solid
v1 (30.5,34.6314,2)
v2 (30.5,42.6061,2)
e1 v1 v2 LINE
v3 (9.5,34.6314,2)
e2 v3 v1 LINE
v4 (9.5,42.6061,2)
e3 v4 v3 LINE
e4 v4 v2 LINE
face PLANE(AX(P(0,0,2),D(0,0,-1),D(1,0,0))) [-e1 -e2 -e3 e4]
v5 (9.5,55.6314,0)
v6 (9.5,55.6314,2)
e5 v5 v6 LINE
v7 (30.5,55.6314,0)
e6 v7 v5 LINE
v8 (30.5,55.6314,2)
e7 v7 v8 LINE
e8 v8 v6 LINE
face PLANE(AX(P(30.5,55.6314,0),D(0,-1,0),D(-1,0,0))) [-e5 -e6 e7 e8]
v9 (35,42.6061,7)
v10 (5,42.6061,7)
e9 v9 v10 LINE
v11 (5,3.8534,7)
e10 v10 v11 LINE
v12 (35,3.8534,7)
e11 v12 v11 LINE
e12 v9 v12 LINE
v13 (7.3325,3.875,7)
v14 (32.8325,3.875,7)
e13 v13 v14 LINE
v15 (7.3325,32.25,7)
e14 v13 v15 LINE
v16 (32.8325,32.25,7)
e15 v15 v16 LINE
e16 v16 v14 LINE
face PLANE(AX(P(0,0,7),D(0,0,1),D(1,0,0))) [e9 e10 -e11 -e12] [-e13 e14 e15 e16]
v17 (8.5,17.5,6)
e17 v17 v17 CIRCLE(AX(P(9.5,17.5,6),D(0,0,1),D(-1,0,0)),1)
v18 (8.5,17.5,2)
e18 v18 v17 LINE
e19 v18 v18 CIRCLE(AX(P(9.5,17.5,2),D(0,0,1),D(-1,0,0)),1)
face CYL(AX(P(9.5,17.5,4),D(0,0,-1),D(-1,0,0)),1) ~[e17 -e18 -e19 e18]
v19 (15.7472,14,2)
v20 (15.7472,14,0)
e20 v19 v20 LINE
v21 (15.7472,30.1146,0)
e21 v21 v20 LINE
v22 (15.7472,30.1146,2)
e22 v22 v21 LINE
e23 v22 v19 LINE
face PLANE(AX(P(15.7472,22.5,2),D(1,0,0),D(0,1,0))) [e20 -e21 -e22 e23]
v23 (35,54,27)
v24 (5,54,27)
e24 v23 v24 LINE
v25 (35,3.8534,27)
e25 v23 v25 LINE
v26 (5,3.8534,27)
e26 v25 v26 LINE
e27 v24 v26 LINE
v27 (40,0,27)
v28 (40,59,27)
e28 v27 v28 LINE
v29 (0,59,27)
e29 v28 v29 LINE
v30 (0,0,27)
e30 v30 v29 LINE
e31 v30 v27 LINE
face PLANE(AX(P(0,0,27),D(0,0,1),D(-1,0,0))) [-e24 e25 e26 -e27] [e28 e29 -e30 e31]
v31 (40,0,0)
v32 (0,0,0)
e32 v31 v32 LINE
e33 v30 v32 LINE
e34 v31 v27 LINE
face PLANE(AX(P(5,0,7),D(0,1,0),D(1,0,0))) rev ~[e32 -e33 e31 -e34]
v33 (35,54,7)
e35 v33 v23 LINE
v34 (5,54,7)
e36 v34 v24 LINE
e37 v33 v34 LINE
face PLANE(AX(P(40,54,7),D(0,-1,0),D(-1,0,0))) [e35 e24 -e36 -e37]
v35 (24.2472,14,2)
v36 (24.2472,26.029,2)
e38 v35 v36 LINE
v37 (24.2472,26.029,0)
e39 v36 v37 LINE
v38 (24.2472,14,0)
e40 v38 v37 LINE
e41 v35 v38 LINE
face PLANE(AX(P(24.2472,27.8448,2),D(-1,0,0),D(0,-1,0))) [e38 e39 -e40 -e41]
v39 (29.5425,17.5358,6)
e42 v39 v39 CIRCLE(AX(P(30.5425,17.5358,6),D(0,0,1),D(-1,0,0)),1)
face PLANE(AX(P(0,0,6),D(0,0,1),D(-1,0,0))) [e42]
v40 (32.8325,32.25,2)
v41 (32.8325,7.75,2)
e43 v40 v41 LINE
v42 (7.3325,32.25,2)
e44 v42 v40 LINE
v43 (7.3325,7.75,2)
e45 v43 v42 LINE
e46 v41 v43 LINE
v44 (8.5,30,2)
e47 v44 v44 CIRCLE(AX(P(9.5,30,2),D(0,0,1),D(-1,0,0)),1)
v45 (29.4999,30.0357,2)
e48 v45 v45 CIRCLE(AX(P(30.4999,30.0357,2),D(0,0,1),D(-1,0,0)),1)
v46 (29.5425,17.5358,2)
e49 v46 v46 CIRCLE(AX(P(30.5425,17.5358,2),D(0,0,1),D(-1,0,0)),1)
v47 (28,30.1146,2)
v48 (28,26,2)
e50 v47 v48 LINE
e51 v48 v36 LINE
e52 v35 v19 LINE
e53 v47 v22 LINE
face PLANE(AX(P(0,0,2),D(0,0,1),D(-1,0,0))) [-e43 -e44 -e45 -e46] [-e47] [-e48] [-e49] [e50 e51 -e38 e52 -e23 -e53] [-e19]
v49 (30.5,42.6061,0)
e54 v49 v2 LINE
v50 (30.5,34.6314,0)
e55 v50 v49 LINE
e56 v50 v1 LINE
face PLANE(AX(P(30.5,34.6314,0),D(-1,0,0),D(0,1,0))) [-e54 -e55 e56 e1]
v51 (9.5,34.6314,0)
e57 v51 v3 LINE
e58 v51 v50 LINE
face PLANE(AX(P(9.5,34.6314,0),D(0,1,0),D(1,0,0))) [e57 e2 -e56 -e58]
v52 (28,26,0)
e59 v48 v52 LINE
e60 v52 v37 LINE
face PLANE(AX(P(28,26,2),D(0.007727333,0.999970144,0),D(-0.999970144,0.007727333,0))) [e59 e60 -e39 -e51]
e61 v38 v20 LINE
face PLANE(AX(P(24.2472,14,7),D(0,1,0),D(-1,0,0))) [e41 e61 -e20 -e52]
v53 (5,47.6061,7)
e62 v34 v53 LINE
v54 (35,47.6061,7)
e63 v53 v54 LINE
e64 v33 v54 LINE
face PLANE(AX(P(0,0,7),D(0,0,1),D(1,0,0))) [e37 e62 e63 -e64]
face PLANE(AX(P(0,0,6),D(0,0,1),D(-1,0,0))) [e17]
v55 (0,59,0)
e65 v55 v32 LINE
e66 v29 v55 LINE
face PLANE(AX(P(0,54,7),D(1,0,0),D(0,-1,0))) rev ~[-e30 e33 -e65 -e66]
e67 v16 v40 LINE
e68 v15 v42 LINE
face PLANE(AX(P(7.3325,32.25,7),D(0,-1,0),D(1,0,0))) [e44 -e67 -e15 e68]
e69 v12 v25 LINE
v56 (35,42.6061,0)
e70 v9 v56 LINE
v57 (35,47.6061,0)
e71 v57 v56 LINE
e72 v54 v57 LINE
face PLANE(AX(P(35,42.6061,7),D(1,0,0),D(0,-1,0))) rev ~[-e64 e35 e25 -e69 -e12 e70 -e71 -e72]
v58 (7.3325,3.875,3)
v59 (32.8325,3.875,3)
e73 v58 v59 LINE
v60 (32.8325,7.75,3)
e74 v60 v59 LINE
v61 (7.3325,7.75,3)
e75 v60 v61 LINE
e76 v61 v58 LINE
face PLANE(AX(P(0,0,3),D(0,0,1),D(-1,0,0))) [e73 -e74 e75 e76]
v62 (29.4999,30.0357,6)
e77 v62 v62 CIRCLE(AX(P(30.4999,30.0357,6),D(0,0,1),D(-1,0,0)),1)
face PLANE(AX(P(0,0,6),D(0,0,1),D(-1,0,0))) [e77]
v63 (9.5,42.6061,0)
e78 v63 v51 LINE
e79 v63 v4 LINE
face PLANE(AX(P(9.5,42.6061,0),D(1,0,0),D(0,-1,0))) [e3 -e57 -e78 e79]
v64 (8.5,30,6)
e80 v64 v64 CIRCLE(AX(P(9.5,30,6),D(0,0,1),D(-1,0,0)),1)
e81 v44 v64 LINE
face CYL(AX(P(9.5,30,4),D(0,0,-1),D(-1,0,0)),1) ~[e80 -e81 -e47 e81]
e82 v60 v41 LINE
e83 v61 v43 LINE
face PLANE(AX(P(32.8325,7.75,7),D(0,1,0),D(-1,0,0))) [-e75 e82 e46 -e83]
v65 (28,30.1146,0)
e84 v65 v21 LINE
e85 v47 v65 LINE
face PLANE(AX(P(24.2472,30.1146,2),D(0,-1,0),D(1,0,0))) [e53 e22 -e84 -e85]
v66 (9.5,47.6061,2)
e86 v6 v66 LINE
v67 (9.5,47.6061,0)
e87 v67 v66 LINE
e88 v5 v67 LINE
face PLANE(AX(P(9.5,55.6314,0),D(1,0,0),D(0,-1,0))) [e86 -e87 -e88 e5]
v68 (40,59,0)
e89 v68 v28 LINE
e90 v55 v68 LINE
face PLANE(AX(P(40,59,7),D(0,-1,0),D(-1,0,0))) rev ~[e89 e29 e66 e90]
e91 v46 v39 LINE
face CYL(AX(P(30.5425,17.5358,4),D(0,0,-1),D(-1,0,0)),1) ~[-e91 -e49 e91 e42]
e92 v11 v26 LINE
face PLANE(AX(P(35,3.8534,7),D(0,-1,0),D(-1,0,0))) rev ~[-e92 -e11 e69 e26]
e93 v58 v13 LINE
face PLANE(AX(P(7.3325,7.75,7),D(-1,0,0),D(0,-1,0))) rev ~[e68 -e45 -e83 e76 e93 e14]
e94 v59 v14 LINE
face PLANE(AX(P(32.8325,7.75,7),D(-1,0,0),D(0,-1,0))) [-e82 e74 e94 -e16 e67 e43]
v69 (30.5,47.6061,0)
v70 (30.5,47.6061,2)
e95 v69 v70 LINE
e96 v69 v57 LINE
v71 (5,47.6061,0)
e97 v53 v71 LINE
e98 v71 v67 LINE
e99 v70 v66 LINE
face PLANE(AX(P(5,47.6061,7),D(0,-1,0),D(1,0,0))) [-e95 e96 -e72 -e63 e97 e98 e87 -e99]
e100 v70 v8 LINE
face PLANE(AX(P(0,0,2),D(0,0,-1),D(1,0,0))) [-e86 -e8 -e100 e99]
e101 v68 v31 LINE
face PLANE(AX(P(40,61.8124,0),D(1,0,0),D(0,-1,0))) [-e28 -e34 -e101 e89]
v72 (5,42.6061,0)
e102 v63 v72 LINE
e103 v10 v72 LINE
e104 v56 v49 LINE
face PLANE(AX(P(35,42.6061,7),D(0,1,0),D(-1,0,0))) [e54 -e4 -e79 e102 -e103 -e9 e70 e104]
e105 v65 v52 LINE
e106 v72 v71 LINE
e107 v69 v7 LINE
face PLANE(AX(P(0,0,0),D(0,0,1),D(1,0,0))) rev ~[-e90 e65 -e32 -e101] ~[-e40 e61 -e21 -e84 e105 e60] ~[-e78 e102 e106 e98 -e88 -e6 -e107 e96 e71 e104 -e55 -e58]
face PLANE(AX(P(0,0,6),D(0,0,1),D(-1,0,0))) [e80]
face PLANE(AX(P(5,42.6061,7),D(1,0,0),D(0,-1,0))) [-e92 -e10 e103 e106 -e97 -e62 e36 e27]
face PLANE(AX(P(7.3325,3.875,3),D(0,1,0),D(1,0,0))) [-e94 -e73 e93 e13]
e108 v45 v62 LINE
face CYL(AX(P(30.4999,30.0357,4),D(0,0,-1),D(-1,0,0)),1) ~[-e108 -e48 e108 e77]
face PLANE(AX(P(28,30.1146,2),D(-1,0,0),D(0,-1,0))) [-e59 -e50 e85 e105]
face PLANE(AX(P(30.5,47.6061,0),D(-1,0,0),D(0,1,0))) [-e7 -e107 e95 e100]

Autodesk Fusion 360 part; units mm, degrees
sketch "Sketch1" plane through (0, 0, 0) normal (0, 0, 1) x (1, 0, 0)
  line L0 (0, 0) -> (0, 40)
  line L1 (0, 40) -> (40, 40)
  line L2 (40, 40) -> (40, 0)
  line L3 (40, 0) -> (0, 0)
extrude "Extrude1" add sketch "Sketch1" along normal blind 7
sketch "Sketch2" plane through (0, 0, 7) normal (0, 0, 1) x (-1, 0, 0)
  line L0 (-40, 0) -> (-40, -40)
  line L1 (-40, -40) -> (0, -40)
  line L2 (0, -40) -> (0, 0)
  line L3 (0, 0) -> (-40, 0)
  line L4 (-32.8325, -7.75) -> (-7.3325, -7.75)
  line L5 (-7.3325, -7.75) -> (-7.3325, -32.25)
  line L6 (-7.3325, -32.25) -> (-32.8325, -32.25)
  line L7 (-32.8325, -32.25) -> (-32.8325, -7.75)
  line L8 (-32.8325, -7.75) -> (-7.3325, -32.25) construction
  line L9 (-7.3325, -7.75) -> (-32.8325, -32.25) construction
  dimension "d3" = 24.5
  dimension "d4" = 25.5
extrude "Extrude2" cut sketch "Sketch2" against normal blind 5 contours L4 L5 L6 L7
sketch "Sketch3" plane through (0, 0, 7) normal (0, 0, 1) x (-1, 0, 0)
  line L0 (-7.3325, -7.75) -> (-7.3325, -32.25)
  line L1 (-7.3325, -32.25) -> (-32.8325, -32.25)
  line L2 (-32.8325, -32.25) -> (-32.8325, -7.75)
  line L3 (-32.8325, -7.75) -> (-7.3325, -7.75)
  line L4 (-40, 0) -> (-40, -40)
  line L5 (-40, -40) -> (0, -40)
  line L6 (0, -40) -> (0, 0)
  line L7 (0, 0) -> (-40, 0)
  line L8 (-7.3325, -7.75) -> (-7.3325, 0.0071)
  line L9 (-32.8325, -7.75) -> (-32.8325, 0.0018)
extrude "Extrude3" cut sketch "Sketch3" against normal blind 4 contours L3 L7 L8 L9
sketch "Sketch4" plane through (0, 0, 2) normal (0, 0, 1) x (-1, 0, 0)
  line L0 (-32.8325, -32.25) -> (-7.3325, -32.25)
  line L1 (-7.3325, -32.25) -> (-7.3325, -7.75)
  line L2 (-7.3325, -7.75) -> (-32.8325, -7.75)
  line L3 (-32.8325, -7.75) -> (-32.8325, -32.25)
  line L4 (-19.9972, -32) -> (-19.9972, -7.7499)
  line L5 (-7.3325, -20) -> (-32.8325, -20)
  line L6 (-23.9823, -7.75) -> (-23.9823, -14.25)
  line L7 (-23.9823, -14.25) -> (-7.3325, -14.25)
  line L8 (-23.9823, -14.25) -> (-32.8333, -14.25)
  line L9 (-19.9972, -14.25) -> (-19.9972, -18.25)
  line L10 (-23.9972, -14.25) -> (-15.9972, -14.25)
  line L11 (-15.9972, -14.25) -> (-15.9972, -22.25)
  line L12 (-15.9972, -22.25) -> (-23.9972, -22.25)
  line L13 (-23.9972, -22.25) -> (-23.9972, -14.25)
  line L14 (-23.9972, -14.25) -> (-15.9972, -22.25) construction
  line L15 (-15.9972, -14.25) -> (-23.9972, -22.25) construction
  dimension "d9" = 6.5
  dimension "d10" = 4
  dimension "d11" = 8
extrude "Extrude4" cut sketch "Sketch4" against normal blind 5 contours L4 L5 L7 L8 L9 L10 L13 | L4 L5 L12 L13 | L4 L5 L11 L12 | L4 L5 L7 L9 L10 L11
sketch "Sketch5" plane through (0, 0, 2) normal (0, 0, 1) x (-1, 0, 0)
  line L0 (-15.9972, -14.25) -> (-15.9972, -22.25)
  line L1 (-15.9972, -22.25) -> (-23.9972, -22.25)
  line L2 (-23.9972, -22.25) -> (-23.9972, -14.25)
  line L3 (-23.9972, -14.25) -> (-15.9972, -14.25)
  line L4 (-32.8325, -32.25) -> (-7.3325, -32.25)
  line L5 (-7.3325, -32.25) -> (-7.3325, -7.75)
  line L6 (-7.3325, -7.75) -> (-32.8325, -7.75)
  line L7 (-32.8325, -7.75) -> (-32.8325, -32.25)
  line L8 (-20, -32) -> (-20.0825, -7.75)
  line L9 (-20, -32) -> (-20, -30)
  line L10 (-20, -30) -> (-30.4999, -30.0357)
  circle A0 centre (-30.4999, -30.0357) radius 1
  line L11 (-20, -30) -> (-9.5, -30)
  circle A1 centre (-9.5, -30) radius 1
  line L12 (-9.5, -30) -> (-9.5, -17.5)
  line L13 (-30.4999, -30.0357) -> (-30.5425, -17.5358)
  circle A2 centre (-9.5, -17.5) radius 1
  circle A3 centre (-30.5425, -17.5358) radius 1
  dimension "d14" = 10.5
  dimension "d15" = 2
  dimension "d16" = 10.5
  dimension "d17" = 2
  dimension "d18" = 12.5
  dimension "d19" = 12.5
  dimension "d20" = 2
  dimension "d21" = 2
extrude "Extrude5" add sketch "Sketch5" along normal blind 2 contours A2 | L11 A1 L12 | L11 A1 L12 | A3 | L10 A0 L13 | L10 A0 L13
sketch "Sketch6" plane through (0, 0, 7) normal (0, 0, 1) x (-1, 0, 0)
  line L0 (-32.8325, -32.25) -> (-32.8325, 0)
  line L1 (-32.8325, 0) -> (-40, 0)
  line L2 (-40, 0) -> (-40, -40)
  line L3 (-40, -40) -> (0, -40)
  line L4 (0, -40) -> (0, 0)
  line L5 (0, 0) -> (-7.3325, 0)
  line L6 (-7.3325, 0) -> (-7.3325, -32.25)
  line L7 (-7.3325, -32.25) -> (-32.8325, -32.25)
  line L8 (-40, 0) -> (0, 0)
  line L9 (-20, -40) -> (-20, 0)
  line L10 (-20, -40) -> (-20, -36.5)
  line L11 (-20, -36.5) -> (-36, -36.5)
  line L12 (-20, -36.5) -> (-4, -36.5)
  circle A0 centre (-36, -36.5) radius 2.5
  circle A1 centre (-4, -36.5) radius 2.5
  line L13 (-36, -36.5) -> (-36, -6.5)
  line L14 (-4, -36.5) -> (-4, -6.5)
  circle A2 centre (-36, -6.5) radius 2.5
  circle A3 centre (-4, -6.5) radius 2.5
  dimension "d24" = 3.5
  dimension "d25" = 5
  dimension "d26" = 5
  dimension "d27" = 30
  dimension "d28" = 30
  dimension "d29" = 5
  dimension "d30" = 5
extrude "Extrude6" cut sketch "Sketch6" against normal blind 7 contours A2 | L11 A0 L13 | L11 A0 L13 | A3 | L12 A1 L14 | L12 A1 L14
sketch "Sketch7" plane through (0, 0, 7) normal (0, 0, 1) x (-1, 0, 0)
  circle A0 centre (-4, -36.5) radius 2.5
  circle A1 centre (-36, -36.5) radius 2.5
  circle A2 centre (-4, -6.5) radius 2.5
  circle A3 centre (-36, -6.5) radius 2.5
  line L0 (-32.8325, -32.25) -> (-32.8325, 0)
  line L1 (-32.8325, 0) -> (-40, 0)
  line L2 (-40, 0) -> (-40, -40)
  line L3 (-40, -40) -> (0, -40)
  line L4 (0, -40) -> (0, 0)
  line L5 (0, 0) -> (-7.3325, 0)
  line L6 (-7.3325, 0) -> (-7.3325, -32.25)
  line L7 (-7.3325, -32.25) -> (-32.8325, -32.25)
  line L8 (-15.9972, -22.25) -> (-23.9972, -14.25)
  line L9 (-23.9972, -14.25) -> (-23.9972, -22.25)
  line L10 (-23.9972, -22.25) -> (-15.9972, -14.25)
  line L11 (-24.2472, -14) -> (-15.7472, -14)
  line L12 (-15.7472, -14) -> (-15.7472, -22.5)
  line L13 (-15.7472, -22.5) -> (-24.2472, -22.5)
  line L14 (-24.2472, -22.5) -> (-24.2472, -14)
  line L15 (-24.2472, -14) -> (-15.7472, -22.5) construction
  line L16 (-15.7472, -14) -> (-24.2472, -22.5) construction
  dimension "d33" = 8.5
  dimension "d34" = 8.5
extrude "Extrude7" cut sketch "Sketch7" against normal blind 20 contours L8 L9 L10 | L11 L12 L13 L14
sketch "Sketch8" plane through (0, 0, 2) normal (0, 0, 1) x (-1, 0, 0)
  line L0 (-15.7472, -14) -> (-15.7472, -22.5)
  line L1 (-15.7472, -22.5) -> (-24.2472, -22.5)
  line L2 (-24.2472, -22.5) -> (-24.2472, -14)
  line L3 (-24.2472, -14) -> (-15.7472, -14)
  circle A0 centre (-9.5, -17.5) radius 1
  circle A1 centre (-30.4999, -30.0357) radius 1
  circle A2 centre (-30.5425, -17.5358) radius 1
  circle A3 centre (-9.5, -30) radius 1
  line L4 (-32.8325, -32.25) -> (-7.3325, -32.25)
  line L5 (-7.3325, -32.25) -> (-7.3325, -7.75)
  line L6 (-7.3325, -7.75) -> (-32.8325, -7.75)
  line L7 (-32.8325, -7.75) -> (-32.8325, -32.25)
  line L8 (-15.7472, -27.8448) -> (-24.2472, -27.8448)
  line L9 (-24.2472, -27.8448) -> (-24.2472, -17.1552)
  line L10 (-24.2472, -17.1552) -> (-15.7472, -17.1552)
  line L11 (-15.7472, -17.1552) -> (-15.7472, -27.8448)
  line L12 (-15.7472, -27.8448) -> (-24.2472, -17.1552) construction
  line L13 (-24.2472, -27.8448) -> (-15.7472, -17.1552) construction
extrude "Extrude8" cut sketch "Sketch8" against normal blind 20 contours L1 L8 L9 L11
sketch "Sketch9" plane through (0, 0, 2) normal (0, 0, 1) x (-1, 0, 0)
  line L0 (-24.2472, -27.8448) -> (-24.2472, -14)
  line L1 (-24.2472, -14) -> (-15.7472, -14)
  line L2 (-15.7472, -14) -> (-15.7472, -27.8448)
  line L3 (-15.7472, -27.8448) -> (-24.2472, -27.8448)
  circle A0 centre (-9.5, -17.5) radius 1
  circle A1 centre (-30.4999, -30.0357) radius 1
  circle A2 centre (-30.5425, -17.5358) radius 1
  circle A3 centre (-9.5, -30) radius 1
  line L4 (-32.8325, -32.25) -> (-7.3325, -32.25)
  line L5 (-7.3325, -32.25) -> (-7.3325, -7.75)
  line L6 (-7.3325, -7.75) -> (-32.8325, -7.75)
  line L7 (-32.8325, -7.75) -> (-32.8325, -32.25)
  line L8 (-15.7472, -30.1146) -> (-24.2472, -30.1146)
  line L9 (-24.2472, -30.1146) -> (-24.2472, -25.575)
  line L10 (-24.2472, -25.575) -> (-15.7472, -25.575)
  line L11 (-15.7472, -25.575) -> (-15.7472, -30.1146)
  line L12 (-15.7472, -30.1146) -> (-24.2472, -25.575) construction
  line L13 (-24.2472, -30.1146) -> (-15.7472, -25.575) construction
extrude "Extrude9" cut sketch "Sketch9" against normal blind 20 contours L3 L8 L9 L11
sketch "Sketch10" plane through (0, 0, 2) normal (0, 0, 1) x (-1, 0, 0)
  line L0 (-32.8325, -32.25) -> (-7.3325, -32.25)
  line L1 (-7.3325, -32.25) -> (-7.3325, -7.75)
  line L2 (-7.3325, -7.75) -> (-32.8325, -7.75)
  line L3 (-32.8325, -7.75) -> (-32.8325, -32.25)
  circle A0 centre (-9.5, -30) radius 1
  circle A1 centre (-30.5425, -17.5358) radius 1
  circle A2 centre (-30.4999, -30.0357) radius 1
  circle A3 centre (-9.5, -17.5) radius 1
  line L4 (-15.7472, -14) -> (-15.7472, -30.1146)
  line L5 (-15.7472, -30.1146) -> (-24.2472, -30.1146)
  line L6 (-24.2472, -30.1146) -> (-24.2472, -14)
  line L7 (-24.2472, -14) -> (-15.7472, -14)
  line L8 (-24.2472, -30.1146) -> (-28, -30.1146)
  line L9 (-28, -30.1146) -> (-28, -26)
  line L10 (-28, -26) -> (-24.2472, -26.029)
extrude "Extrude10" cut sketch "Sketch10" against normal blind 20 contours L6 L8 L9 L10
sketch "Sketch11" plane through (0, 0, 4) normal (0, 0, 1) x (-1, 0, 0)
  circle A0 centre (-9.5, -30) radius 1
  circle A1 centre (-9.5, -30) radius 1
extrude "Extrude11" add sketch "Sketch11" along normal blind 2
sketch "Sketch12" plane through (0, 0, 4) normal (0, 0, 1) x (-1, 0, 0)
  circle A0 centre (-9.5, -17.5) radius 1
  circle A1 centre (-9.5, -17.5) radius 1
extrude "Extrude12" add sketch "Sketch12" along normal blind 2
sketch "Sketch13" plane through (0, 0, 4) normal (0, 0, 1) x (-1, 0, 0)
  circle A0 centre (-30.4999, -30.0357) radius 1
  circle A1 centre (-30.4999, -30.0357) radius 1
extrude "Extrude13" add sketch "Sketch13" along normal blind 2
sketch "Sketch14" plane through (0, 0, 4) normal (0, 0, 1) x (-1, 0, 0)
  circle A0 centre (-30.5425, -17.5358) radius 1
  circle A1 centre (-30.5425, -17.5358) radius 1
extrude "Extrude14" add sketch "Sketch14" along normal blind 2
sketch "Sketch15" plane through (0, 0, 7) normal (0, 0, 1) x (-1, 0, 0)
  circle A0 centre (-4, -36.5) radius 2.5
  circle A1 centre (-36, -36.5) radius 2.5
  circle A2 centre (-4, -6.5) radius 2.5
  circle A3 centre (-36, -6.5) radius 2.5
  line L0 (-32.8325, -32.25) -> (-32.8325, 0)
  line L1 (-32.8325, 0) -> (-40, 0)
  line L2 (-40, 0) -> (-40, -40)
  line L3 (-40, -40) -> (0, -40)
  line L4 (0, -40) -> (0, 0)
  line L5 (0, 0) -> (-7.3325, 0)
  line L6 (-7.3325, 0) -> (-7.3325, -32.25)
  line L7 (-7.3325, -32.25) -> (-32.8325, -32.25)
  circle A4 centre (-4, -36.5) radius 2.5
extrude "Extrude15" add sketch "Sketch15" against normal blind 5 contours A0 A4
sketch "Sketch16" plane through (0, 0, 2) normal (0, 0, -1) x (1, 0, 0)
  circle A0 centre (4, -36.5) radius 2.5
  circle A1 centre (4, -36.5) radius 2.5
extrude "Extrude16" add sketch "Sketch16" along normal blind 2
sketch "Sketch17" plane through (0, 0, 0) normal (0, 0, 1) x (1, 0, 0)
  circle A0 centre (4, 6.5) radius 2.5
  circle A1 centre (4, 6.5) radius 2.5
  circle A2 centre (4, 6.5) radius 2.5
extrude "Extrude17" add sketch "Sketch17" along normal blind 7
sketch "Sketch18" plane through (0, 0, 7) normal (0, 0, 1) x (-1, 0, 0)
  circle A0 centre (-36, -36.5) radius 2.5
  circle A1 centre (-36, -6.5) radius 2.5
  line L0 (-32.8325, -32.25) -> (-32.8325, 0)
  line L1 (-32.8325, 0) -> (-40, 0)
  line L2 (-40, 0) -> (-40, -40)
  line L3 (-40, -40) -> (0, -40)
  line L4 (0, -40) -> (0, 0)
  line L5 (0, 0) -> (-7.3325, 0)
  line L6 (-7.3325, 0) -> (-7.3325, -32.25)
  line L7 (-7.3325, -32.25) -> (-32.8325, -32.25)
  circle A2 centre (-36, -36.5) radius 2.5
extrude "Extrude18" add sketch "Sketch18" against normal blind 7 contours A0 A2
sketch "Sketch19" plane through (0, 0, 7) normal (0, 0, 1) x (-1, 0, 0)
  circle A0 centre (-36, -6.5) radius 2.5
  line L0 (-32.8325, -32.25) -> (-32.8325, 0)
  line L1 (-32.8325, 0) -> (-40, 0)
  line L2 (-40, 0) -> (-40, -40)
  line L3 (-40, -40) -> (0, -40)
  line L4 (0, -40) -> (0, 0)
  line L5 (0, 0) -> (-7.3325, 0)
  line L6 (-7.3325, 0) -> (-7.3325, -32.25)
  line L7 (-7.3325, -32.25) -> (-32.8325, -32.25)
  circle A1 centre (-36, -6.5) radius 2.5
extrude "Extrude19" add sketch "Sketch19" against normal blind 7 contours A0 A1
sketch "Sketch20" plane through (0, 0, 0) normal (0, 0, 1) x (1, 0, 0)
  line L0 (40, 40) -> (0, 40)
  line L1 (0, 40) -> (0, 61.8124)
  line L2 (0, 61.8124) -> (40, 61.8124)
  line L3 (40, 61.8124) -> (40, 40)
  line L4 (40, 40) -> (0, 61.8124) construction
  line L5 (0, 40) -> (40, 61.8124) construction
extrude "Extrude20" add sketch "Sketch20" along normal blind 7
sketch "Sketch21" plane through (0, 0, 7) normal (0, 0, 1) x (-1, 0, 0)
  line L0 (-32.8325, -32.25) -> (-32.8325, 0)
  line L1 (-32.8325, 0) -> (-40, 0)
  line L2 (-40, 0) -> (-40, -61.8124)
  line L3 (-40, -61.8124) -> (0, -61.8124)
  line L4 (0, -61.8124) -> (0, 0)
  line L5 (0, 0) -> (-7.3325, 0)
  line L6 (-7.3325, 0) -> (-7.3325, -32.25)
  line L7 (-7.3325, -32.25) -> (-32.8325, -32.25)
  line L8 (-35, -42.6061) -> (-5, -42.6061)
  line L9 (-5, -42.6061) -> (-5, -47.6061)
  line L10 (-5, -47.6061) -> (-35, -47.6061)
  line L11 (-35, -47.6061) -> (-35, -42.6061)
  line L12 (-35, -42.6061) -> (-5, -47.6061) construction
  line L13 (-5, -42.6061) -> (-35, -47.6061) construction
  dimension "d63" = 5
  dimension "d64" = 30
extrude "Extrude21" cut sketch "Sketch21" against normal blind 7 contours L8 L9 L10 L11
sketch "Sketch22" plane through (0, 0, 7) normal (0, 0, 1) x (-1, 0, 0)
  line L0 (-5, -42.6061) -> (-5, -47.6061)
  line L1 (-5, -47.6061) -> (-35, -47.6061)
  line L2 (-35, -47.6061) -> (-35, -42.6061)
  line L3 (-35, -42.6061) -> (-5, -42.6061)
  line L4 (-32.8325, -32.25) -> (-32.8325, 0)
  line L5 (-32.8325, 0) -> (-40, 0)
  line L6 (-40, 0) -> (-40, -61.8124)
  line L7 (-40, -61.8124) -> (0, -61.8124)
  line L8 (0, -61.8124) -> (0, 0)
  line L9 (0, 0) -> (-7.3325, 0)
  line L10 (-7.3325, 0) -> (-7.3325, -32.25)
  line L11 (-7.3325, -32.25) -> (-32.8325, -32.25)
  line L12 (-20, -45) -> (-20, -56)
  line L13 (-20, -56) -> (-20, -61.8124)
  line L14 (-40, -59) -> (0, -59)
  line L15 (0, -59) -> (0, -64.6248)
  line L16 (0, -64.6248) -> (-40, -64.6248)
  line L17 (-40, -64.6248) -> (-40, -59)
  line L18 (-40, -59) -> (0, -64.6248) construction
  line L19 (0, -59) -> (-40, -64.6248) construction
  dimension "d67" = 5.6248
extrude "Extrude22" cut sketch "Sketch22" against normal blind 7 contours L7 L8 L13 L14 L15 | L6 L7 L13 L14 L17
sketch "Sketch23" plane through (0, 0, 7) normal (0, 0, 1) x (-1, 0, 0)
  line L0 (-40, -59) -> (0, -59)
  line L1 (0, -59) -> (0, 0)
  line L2 (0, 0) -> (-7.3325, 0)
  line L3 (-7.3325, 0) -> (-7.3325, -32.25)
  line L4 (-7.3325, -32.25) -> (-32.8325, -32.25)
  line L5 (-32.8325, -32.25) -> (-32.8325, 0)
  line L6 (-32.8325, 0) -> (-40, 0)
  line L7 (-40, 0) -> (-40, -59)
  line L8 (-5, -42.6061) -> (-5, -47.6061)
  line L9 (-5, -47.6061) -> (-35, -47.6061)
  line L10 (-35, -47.6061) -> (-35, -42.6061)
  line L11 (-35, -42.6061) -> (-5, -42.6061)
  circle A0 centre (-4, -55) radius 2.5
  circle A1 centre (-37, -55) radius 2.5
  circle A2 centre (-37, -4) radius 2.5
  circle A3 centre (-3.5618, -3.875) radius 2.5
  dimension "d70" = 5
  dimension "d71" = 5
  dimension "d72" = 5
  dimension "d73" = 5
extrude "Extrude23" add sketch "Sketch23" along normal blind 5 contours A0 | A1 | A2 | A3
sketch "Sketch24" plane through (0, 0, 12) normal (0, 0, 1) x (-1, 0, 0)
  circle A0 centre (-4, -55) radius 2.5
  circle A1 centre (-4, -55) radius 1
  circle A2 centre (-37, -55) radius 1
extrude "Extrude24" cut sketch "Sketch24" against normal blind 3 contours A1 | A2
sketch "Sketch25" plane through (0, 0, 12) normal (0, 0, 1) x (-1, 0, 0)
  circle A0 centre (-3.5618, -3.875) radius 2.5
  circle A1 centre (-3.5618, -3.875) radius 1
  circle A2 centre (-37, -4) radius 1
  dimension "d78" = 2
extrude "Extrude25" cut sketch "Sketch25" against normal blind 3 contours A1 | A2
sketch "Sketch26" plane through (0, 0, 0) normal (0, 0, -1) x (1, 0, 0)
  line L0 (0, -59) -> (40, -59)
  line L1 (40, -59) -> (40, 0)
  line L2 (40, 0) -> (0, 0)
  line L3 (0, 0) -> (0, -59)
  line L4 (5, -47.6061) -> (5, -42.6061)
  line L5 (5, -42.6061) -> (35, -42.6061)
  line L6 (35, -42.6061) -> (35, -47.6061)
  line L7 (35, -47.6061) -> (5, -47.6061)
  line L8 (28, -30.1146) -> (15.7472, -30.1146)
  line L9 (15.7472, -30.1146) -> (15.7472, -14)
  line L10 (15.7472, -14) -> (24.2472, -14)
  line L11 (24.2472, -14) -> (24.2472, -26.029)
  line L12 (24.2472, -26.029) -> (28, -26)
  line L13 (28, -26) -> (28, -30.1146)
  line L14 (30.5, -55.6314) -> (9.5, -55.6314)
  line L15 (9.5, -55.6314) -> (9.5, -34.6314)
  line L16 (9.5, -34.6314) -> (30.5, -34.6314)
  line L17 (30.5, -34.6314) -> (30.5, -55.6314)
  line L18 (30.5, -55.6314) -> (9.5, -34.6314) construction
  line L19 (9.5, -55.6314) -> (30.5, -34.6314) construction
  dimension "d81" = 21
  dimension "d82" = 21
extrude "Extrude26" cut sketch "Sketch26" against normal blind 2 contours L7 L14 L15 L17 | L5 L15 L16 L17
extrude "Extrude27" cut 1 faces at (35.013, 4.1739, 12) along direction (0, 0, -1) blind 5
extrude "Extrude28" cut 1 faces at (36.9751, 4.3324, 9) along direction (0, 0, -1) blind 2
extrude "Extrude29" cut 1 faces at (1.5748, 4.0489, 12) along direction (0, 0, -1) blind 5
extrude "Extrude30" cut 1 faces at (3.9958, 3.666, 9) along direction (0, 0, -1) blind 2
extrude "Extrude31" cut 1 faces at (2.013, 55.1739, 12) along direction (0, 0, -1) blind 5
extrude "Extrude32" cut 1 faces at (4.6415, 54.7287, 9) along direction (0, 0, -1) blind 2
extrude "Extrude33" cut 1 faces at (35.013, 55.1739, 12) along direction (0, 0, -1) blind 5
extrude "Extrude34" cut 1 faces at (37.4221, 54.7901, 9) along direction (0, 0, -1) blind 2
sketch "Sketch27" plane through (0, 0, 3) normal (0, 0, 1) x (-1, 0, 0)
  line L0 (-7.3325, -7.75) -> (-7.3325, 0)
  line L1 (-7.3325, 0) -> (-32.8325, 0)
  line L2 (-32.8325, 0) -> (-32.8325, -7.75)
  line L3 (-32.8325, -7.75) -> (-7.3325, -7.75)
  line L4 (-7.3325, -3.875) -> (-32.8325, -3.875)
  line L5 (-7.3325, -3.875) -> (-7.3325, 0)
  line L6 (-7.3325, 0) -> (-32.8325, 0)
  line L7 (-32.8325, 0) -> (-32.8325, -3.875)
extrude "Extrude35" add sketch "Sketch27" along normal blind 4 contours L0 L1 L2 L4 L5 L6 L7
sketch "Sketch28" plane through (0, 0, 7) normal (0, 0, 1) x (-1, 0, 0)
  line L0 (0, 0) -> (-40, 0)
  line L1 (-40, 0) -> (-40, -59)
  line L2 (-40, -59) -> (0, -59)
  line L3 (0, -59) -> (0, 0)
  line L4 (-32.8325, -3.875) -> (-7.3325, -3.875)
  line L5 (-7.3325, -3.875) -> (-7.3325, -32.25)
  line L6 (-7.3325, -32.25) -> (-32.8325, -32.25)
  line L7 (-32.8325, -32.25) -> (-32.8325, -3.875)
  line L8 (-5, -42.6061) -> (-5, -47.6061)
  line L9 (-5, -47.6061) -> (-35, -47.6061)
  line L10 (-35, -47.6061) -> (-35, -42.6061)
  line L11 (-35, -42.6061) -> (-5, -42.6061)
  line L12 (0, -59) -> (-40, -59)
  line L13 (-40, -59) -> (-40, -54)
  line L14 (-40, -54) -> (0, -54)
  line L15 (0, -54) -> (0, -59)
  dimension "d103" = 5
extrude "Extrude36" add sketch "Sketch28" along normal blind 20 contours L1 L2 L3 L12 L13 L14 L15
sketch "Sketch29" plane through (0, 0, 7) normal (0, 0, 1) x (-1, 0, 0)
  line L0 (-5, -42.6061) -> (-5, -47.6061)
  line L1 (-5, -47.6061) -> (-35, -47.6061)
  line L2 (-35, -47.6061) -> (-35, -42.6061)
  line L3 (-35, -42.6061) -> (-5, -42.6061)
  line L4 (-32.8325, -3.875) -> (-7.3325, -3.875)
  line L5 (-7.3325, -3.875) -> (-7.3325, -32.25)
  line L6 (-7.3325, -32.25) -> (-32.8325, -32.25)
  line L7 (-32.8325, -32.25) -> (-32.8325, -3.875)
  line L8 (-40, -54) -> (0, -54)
  line L9 (0, -54) -> (0, 0)
  line L10 (0, 0) -> (-40, 0)
  line L11 (-40, 0) -> (-40, -54)
  line L12 (-40, -54) -> (-35, -54)
  line L13 (-35, -54) -> (-35, 0)
  line L14 (-35, 0) -> (-40, 0)
  line L15 (-40, 0) -> (-40, -54)
extrude "Extrude37" add sketch "Sketch29" along normal blind 20 contours L2 L8 L10 L11 L12 L13 L14 L15
sketch "Sketch30" plane through (0, 0, 7) normal (0, 0, 1) x (-1, 0, 0)
  line L0 (-35, 0) -> (-35, -42.6061)
  line L1 (-35, -42.6061) -> (-5, -42.6061)
  line L2 (-5, -42.6061) -> (-5, -47.6061)
  line L3 (-5, -47.6061) -> (-35, -47.6061)
  line L4 (-35, -47.6061) -> (-35, -54)
  line L5 (-35, -54) -> (0, -54)
  line L6 (0, -54) -> (0, 0)
  line L7 (0, 0) -> (-35, 0)
  line L8 (-32.8325, -3.875) -> (-7.3325, -3.875)
  line L9 (-7.3325, -3.875) -> (-7.3325, -32.25)
  line L10 (-7.3325, -32.25) -> (-32.8325, -32.25)
  line L11 (-32.8325, -32.25) -> (-32.8325, -3.875)
  line L12 (0, -54) -> (-5, -54)
  line L13 (-5, -54) -> (-5, 0)
  line L14 (-5, 0) -> (0, 0)
  line L15 (0, 0) -> (0, -54)
extrude "Extrude38" add sketch "Sketch30" along normal blind 20 contours L2 L5 L6 L7 L12 L13 L14 L15
sketch "Sketch31" plane through (0, 0, 7) normal (0, 0, 1) x (-1, 0, 0)
  line L0 (-5, -42.6061) -> (-5, 0)
  line L1 (-5, 0) -> (-35, 0)
  line L2 (-35, 0) -> (-35, -42.6061)
  line L3 (-35, -42.6061) -> (-5, -42.6061)
  line L4 (-32.8325, -3.875) -> (-7.3325, -3.875)
  line L5 (-7.3325, -3.875) -> (-7.3325, -32.25)
  line L6 (-7.3325, -32.25) -> (-32.8325, -32.25)
  line L7 (-32.8325, -32.25) -> (-32.8325, -3.875)
  line L8 (-5, 0) -> (-35, 0)
  line L9 (-35, 0) -> (-35, -3.8534)
  line L10 (-35, -3.8534) -> (-5, -3.8534)
  line L11 (-5, -3.8534) -> (-5, 0)
extrude "Extrude39" add sketch "Sketch31" along normal blind 20 contours L0 L1 L2 L8 L9 L10 L11
